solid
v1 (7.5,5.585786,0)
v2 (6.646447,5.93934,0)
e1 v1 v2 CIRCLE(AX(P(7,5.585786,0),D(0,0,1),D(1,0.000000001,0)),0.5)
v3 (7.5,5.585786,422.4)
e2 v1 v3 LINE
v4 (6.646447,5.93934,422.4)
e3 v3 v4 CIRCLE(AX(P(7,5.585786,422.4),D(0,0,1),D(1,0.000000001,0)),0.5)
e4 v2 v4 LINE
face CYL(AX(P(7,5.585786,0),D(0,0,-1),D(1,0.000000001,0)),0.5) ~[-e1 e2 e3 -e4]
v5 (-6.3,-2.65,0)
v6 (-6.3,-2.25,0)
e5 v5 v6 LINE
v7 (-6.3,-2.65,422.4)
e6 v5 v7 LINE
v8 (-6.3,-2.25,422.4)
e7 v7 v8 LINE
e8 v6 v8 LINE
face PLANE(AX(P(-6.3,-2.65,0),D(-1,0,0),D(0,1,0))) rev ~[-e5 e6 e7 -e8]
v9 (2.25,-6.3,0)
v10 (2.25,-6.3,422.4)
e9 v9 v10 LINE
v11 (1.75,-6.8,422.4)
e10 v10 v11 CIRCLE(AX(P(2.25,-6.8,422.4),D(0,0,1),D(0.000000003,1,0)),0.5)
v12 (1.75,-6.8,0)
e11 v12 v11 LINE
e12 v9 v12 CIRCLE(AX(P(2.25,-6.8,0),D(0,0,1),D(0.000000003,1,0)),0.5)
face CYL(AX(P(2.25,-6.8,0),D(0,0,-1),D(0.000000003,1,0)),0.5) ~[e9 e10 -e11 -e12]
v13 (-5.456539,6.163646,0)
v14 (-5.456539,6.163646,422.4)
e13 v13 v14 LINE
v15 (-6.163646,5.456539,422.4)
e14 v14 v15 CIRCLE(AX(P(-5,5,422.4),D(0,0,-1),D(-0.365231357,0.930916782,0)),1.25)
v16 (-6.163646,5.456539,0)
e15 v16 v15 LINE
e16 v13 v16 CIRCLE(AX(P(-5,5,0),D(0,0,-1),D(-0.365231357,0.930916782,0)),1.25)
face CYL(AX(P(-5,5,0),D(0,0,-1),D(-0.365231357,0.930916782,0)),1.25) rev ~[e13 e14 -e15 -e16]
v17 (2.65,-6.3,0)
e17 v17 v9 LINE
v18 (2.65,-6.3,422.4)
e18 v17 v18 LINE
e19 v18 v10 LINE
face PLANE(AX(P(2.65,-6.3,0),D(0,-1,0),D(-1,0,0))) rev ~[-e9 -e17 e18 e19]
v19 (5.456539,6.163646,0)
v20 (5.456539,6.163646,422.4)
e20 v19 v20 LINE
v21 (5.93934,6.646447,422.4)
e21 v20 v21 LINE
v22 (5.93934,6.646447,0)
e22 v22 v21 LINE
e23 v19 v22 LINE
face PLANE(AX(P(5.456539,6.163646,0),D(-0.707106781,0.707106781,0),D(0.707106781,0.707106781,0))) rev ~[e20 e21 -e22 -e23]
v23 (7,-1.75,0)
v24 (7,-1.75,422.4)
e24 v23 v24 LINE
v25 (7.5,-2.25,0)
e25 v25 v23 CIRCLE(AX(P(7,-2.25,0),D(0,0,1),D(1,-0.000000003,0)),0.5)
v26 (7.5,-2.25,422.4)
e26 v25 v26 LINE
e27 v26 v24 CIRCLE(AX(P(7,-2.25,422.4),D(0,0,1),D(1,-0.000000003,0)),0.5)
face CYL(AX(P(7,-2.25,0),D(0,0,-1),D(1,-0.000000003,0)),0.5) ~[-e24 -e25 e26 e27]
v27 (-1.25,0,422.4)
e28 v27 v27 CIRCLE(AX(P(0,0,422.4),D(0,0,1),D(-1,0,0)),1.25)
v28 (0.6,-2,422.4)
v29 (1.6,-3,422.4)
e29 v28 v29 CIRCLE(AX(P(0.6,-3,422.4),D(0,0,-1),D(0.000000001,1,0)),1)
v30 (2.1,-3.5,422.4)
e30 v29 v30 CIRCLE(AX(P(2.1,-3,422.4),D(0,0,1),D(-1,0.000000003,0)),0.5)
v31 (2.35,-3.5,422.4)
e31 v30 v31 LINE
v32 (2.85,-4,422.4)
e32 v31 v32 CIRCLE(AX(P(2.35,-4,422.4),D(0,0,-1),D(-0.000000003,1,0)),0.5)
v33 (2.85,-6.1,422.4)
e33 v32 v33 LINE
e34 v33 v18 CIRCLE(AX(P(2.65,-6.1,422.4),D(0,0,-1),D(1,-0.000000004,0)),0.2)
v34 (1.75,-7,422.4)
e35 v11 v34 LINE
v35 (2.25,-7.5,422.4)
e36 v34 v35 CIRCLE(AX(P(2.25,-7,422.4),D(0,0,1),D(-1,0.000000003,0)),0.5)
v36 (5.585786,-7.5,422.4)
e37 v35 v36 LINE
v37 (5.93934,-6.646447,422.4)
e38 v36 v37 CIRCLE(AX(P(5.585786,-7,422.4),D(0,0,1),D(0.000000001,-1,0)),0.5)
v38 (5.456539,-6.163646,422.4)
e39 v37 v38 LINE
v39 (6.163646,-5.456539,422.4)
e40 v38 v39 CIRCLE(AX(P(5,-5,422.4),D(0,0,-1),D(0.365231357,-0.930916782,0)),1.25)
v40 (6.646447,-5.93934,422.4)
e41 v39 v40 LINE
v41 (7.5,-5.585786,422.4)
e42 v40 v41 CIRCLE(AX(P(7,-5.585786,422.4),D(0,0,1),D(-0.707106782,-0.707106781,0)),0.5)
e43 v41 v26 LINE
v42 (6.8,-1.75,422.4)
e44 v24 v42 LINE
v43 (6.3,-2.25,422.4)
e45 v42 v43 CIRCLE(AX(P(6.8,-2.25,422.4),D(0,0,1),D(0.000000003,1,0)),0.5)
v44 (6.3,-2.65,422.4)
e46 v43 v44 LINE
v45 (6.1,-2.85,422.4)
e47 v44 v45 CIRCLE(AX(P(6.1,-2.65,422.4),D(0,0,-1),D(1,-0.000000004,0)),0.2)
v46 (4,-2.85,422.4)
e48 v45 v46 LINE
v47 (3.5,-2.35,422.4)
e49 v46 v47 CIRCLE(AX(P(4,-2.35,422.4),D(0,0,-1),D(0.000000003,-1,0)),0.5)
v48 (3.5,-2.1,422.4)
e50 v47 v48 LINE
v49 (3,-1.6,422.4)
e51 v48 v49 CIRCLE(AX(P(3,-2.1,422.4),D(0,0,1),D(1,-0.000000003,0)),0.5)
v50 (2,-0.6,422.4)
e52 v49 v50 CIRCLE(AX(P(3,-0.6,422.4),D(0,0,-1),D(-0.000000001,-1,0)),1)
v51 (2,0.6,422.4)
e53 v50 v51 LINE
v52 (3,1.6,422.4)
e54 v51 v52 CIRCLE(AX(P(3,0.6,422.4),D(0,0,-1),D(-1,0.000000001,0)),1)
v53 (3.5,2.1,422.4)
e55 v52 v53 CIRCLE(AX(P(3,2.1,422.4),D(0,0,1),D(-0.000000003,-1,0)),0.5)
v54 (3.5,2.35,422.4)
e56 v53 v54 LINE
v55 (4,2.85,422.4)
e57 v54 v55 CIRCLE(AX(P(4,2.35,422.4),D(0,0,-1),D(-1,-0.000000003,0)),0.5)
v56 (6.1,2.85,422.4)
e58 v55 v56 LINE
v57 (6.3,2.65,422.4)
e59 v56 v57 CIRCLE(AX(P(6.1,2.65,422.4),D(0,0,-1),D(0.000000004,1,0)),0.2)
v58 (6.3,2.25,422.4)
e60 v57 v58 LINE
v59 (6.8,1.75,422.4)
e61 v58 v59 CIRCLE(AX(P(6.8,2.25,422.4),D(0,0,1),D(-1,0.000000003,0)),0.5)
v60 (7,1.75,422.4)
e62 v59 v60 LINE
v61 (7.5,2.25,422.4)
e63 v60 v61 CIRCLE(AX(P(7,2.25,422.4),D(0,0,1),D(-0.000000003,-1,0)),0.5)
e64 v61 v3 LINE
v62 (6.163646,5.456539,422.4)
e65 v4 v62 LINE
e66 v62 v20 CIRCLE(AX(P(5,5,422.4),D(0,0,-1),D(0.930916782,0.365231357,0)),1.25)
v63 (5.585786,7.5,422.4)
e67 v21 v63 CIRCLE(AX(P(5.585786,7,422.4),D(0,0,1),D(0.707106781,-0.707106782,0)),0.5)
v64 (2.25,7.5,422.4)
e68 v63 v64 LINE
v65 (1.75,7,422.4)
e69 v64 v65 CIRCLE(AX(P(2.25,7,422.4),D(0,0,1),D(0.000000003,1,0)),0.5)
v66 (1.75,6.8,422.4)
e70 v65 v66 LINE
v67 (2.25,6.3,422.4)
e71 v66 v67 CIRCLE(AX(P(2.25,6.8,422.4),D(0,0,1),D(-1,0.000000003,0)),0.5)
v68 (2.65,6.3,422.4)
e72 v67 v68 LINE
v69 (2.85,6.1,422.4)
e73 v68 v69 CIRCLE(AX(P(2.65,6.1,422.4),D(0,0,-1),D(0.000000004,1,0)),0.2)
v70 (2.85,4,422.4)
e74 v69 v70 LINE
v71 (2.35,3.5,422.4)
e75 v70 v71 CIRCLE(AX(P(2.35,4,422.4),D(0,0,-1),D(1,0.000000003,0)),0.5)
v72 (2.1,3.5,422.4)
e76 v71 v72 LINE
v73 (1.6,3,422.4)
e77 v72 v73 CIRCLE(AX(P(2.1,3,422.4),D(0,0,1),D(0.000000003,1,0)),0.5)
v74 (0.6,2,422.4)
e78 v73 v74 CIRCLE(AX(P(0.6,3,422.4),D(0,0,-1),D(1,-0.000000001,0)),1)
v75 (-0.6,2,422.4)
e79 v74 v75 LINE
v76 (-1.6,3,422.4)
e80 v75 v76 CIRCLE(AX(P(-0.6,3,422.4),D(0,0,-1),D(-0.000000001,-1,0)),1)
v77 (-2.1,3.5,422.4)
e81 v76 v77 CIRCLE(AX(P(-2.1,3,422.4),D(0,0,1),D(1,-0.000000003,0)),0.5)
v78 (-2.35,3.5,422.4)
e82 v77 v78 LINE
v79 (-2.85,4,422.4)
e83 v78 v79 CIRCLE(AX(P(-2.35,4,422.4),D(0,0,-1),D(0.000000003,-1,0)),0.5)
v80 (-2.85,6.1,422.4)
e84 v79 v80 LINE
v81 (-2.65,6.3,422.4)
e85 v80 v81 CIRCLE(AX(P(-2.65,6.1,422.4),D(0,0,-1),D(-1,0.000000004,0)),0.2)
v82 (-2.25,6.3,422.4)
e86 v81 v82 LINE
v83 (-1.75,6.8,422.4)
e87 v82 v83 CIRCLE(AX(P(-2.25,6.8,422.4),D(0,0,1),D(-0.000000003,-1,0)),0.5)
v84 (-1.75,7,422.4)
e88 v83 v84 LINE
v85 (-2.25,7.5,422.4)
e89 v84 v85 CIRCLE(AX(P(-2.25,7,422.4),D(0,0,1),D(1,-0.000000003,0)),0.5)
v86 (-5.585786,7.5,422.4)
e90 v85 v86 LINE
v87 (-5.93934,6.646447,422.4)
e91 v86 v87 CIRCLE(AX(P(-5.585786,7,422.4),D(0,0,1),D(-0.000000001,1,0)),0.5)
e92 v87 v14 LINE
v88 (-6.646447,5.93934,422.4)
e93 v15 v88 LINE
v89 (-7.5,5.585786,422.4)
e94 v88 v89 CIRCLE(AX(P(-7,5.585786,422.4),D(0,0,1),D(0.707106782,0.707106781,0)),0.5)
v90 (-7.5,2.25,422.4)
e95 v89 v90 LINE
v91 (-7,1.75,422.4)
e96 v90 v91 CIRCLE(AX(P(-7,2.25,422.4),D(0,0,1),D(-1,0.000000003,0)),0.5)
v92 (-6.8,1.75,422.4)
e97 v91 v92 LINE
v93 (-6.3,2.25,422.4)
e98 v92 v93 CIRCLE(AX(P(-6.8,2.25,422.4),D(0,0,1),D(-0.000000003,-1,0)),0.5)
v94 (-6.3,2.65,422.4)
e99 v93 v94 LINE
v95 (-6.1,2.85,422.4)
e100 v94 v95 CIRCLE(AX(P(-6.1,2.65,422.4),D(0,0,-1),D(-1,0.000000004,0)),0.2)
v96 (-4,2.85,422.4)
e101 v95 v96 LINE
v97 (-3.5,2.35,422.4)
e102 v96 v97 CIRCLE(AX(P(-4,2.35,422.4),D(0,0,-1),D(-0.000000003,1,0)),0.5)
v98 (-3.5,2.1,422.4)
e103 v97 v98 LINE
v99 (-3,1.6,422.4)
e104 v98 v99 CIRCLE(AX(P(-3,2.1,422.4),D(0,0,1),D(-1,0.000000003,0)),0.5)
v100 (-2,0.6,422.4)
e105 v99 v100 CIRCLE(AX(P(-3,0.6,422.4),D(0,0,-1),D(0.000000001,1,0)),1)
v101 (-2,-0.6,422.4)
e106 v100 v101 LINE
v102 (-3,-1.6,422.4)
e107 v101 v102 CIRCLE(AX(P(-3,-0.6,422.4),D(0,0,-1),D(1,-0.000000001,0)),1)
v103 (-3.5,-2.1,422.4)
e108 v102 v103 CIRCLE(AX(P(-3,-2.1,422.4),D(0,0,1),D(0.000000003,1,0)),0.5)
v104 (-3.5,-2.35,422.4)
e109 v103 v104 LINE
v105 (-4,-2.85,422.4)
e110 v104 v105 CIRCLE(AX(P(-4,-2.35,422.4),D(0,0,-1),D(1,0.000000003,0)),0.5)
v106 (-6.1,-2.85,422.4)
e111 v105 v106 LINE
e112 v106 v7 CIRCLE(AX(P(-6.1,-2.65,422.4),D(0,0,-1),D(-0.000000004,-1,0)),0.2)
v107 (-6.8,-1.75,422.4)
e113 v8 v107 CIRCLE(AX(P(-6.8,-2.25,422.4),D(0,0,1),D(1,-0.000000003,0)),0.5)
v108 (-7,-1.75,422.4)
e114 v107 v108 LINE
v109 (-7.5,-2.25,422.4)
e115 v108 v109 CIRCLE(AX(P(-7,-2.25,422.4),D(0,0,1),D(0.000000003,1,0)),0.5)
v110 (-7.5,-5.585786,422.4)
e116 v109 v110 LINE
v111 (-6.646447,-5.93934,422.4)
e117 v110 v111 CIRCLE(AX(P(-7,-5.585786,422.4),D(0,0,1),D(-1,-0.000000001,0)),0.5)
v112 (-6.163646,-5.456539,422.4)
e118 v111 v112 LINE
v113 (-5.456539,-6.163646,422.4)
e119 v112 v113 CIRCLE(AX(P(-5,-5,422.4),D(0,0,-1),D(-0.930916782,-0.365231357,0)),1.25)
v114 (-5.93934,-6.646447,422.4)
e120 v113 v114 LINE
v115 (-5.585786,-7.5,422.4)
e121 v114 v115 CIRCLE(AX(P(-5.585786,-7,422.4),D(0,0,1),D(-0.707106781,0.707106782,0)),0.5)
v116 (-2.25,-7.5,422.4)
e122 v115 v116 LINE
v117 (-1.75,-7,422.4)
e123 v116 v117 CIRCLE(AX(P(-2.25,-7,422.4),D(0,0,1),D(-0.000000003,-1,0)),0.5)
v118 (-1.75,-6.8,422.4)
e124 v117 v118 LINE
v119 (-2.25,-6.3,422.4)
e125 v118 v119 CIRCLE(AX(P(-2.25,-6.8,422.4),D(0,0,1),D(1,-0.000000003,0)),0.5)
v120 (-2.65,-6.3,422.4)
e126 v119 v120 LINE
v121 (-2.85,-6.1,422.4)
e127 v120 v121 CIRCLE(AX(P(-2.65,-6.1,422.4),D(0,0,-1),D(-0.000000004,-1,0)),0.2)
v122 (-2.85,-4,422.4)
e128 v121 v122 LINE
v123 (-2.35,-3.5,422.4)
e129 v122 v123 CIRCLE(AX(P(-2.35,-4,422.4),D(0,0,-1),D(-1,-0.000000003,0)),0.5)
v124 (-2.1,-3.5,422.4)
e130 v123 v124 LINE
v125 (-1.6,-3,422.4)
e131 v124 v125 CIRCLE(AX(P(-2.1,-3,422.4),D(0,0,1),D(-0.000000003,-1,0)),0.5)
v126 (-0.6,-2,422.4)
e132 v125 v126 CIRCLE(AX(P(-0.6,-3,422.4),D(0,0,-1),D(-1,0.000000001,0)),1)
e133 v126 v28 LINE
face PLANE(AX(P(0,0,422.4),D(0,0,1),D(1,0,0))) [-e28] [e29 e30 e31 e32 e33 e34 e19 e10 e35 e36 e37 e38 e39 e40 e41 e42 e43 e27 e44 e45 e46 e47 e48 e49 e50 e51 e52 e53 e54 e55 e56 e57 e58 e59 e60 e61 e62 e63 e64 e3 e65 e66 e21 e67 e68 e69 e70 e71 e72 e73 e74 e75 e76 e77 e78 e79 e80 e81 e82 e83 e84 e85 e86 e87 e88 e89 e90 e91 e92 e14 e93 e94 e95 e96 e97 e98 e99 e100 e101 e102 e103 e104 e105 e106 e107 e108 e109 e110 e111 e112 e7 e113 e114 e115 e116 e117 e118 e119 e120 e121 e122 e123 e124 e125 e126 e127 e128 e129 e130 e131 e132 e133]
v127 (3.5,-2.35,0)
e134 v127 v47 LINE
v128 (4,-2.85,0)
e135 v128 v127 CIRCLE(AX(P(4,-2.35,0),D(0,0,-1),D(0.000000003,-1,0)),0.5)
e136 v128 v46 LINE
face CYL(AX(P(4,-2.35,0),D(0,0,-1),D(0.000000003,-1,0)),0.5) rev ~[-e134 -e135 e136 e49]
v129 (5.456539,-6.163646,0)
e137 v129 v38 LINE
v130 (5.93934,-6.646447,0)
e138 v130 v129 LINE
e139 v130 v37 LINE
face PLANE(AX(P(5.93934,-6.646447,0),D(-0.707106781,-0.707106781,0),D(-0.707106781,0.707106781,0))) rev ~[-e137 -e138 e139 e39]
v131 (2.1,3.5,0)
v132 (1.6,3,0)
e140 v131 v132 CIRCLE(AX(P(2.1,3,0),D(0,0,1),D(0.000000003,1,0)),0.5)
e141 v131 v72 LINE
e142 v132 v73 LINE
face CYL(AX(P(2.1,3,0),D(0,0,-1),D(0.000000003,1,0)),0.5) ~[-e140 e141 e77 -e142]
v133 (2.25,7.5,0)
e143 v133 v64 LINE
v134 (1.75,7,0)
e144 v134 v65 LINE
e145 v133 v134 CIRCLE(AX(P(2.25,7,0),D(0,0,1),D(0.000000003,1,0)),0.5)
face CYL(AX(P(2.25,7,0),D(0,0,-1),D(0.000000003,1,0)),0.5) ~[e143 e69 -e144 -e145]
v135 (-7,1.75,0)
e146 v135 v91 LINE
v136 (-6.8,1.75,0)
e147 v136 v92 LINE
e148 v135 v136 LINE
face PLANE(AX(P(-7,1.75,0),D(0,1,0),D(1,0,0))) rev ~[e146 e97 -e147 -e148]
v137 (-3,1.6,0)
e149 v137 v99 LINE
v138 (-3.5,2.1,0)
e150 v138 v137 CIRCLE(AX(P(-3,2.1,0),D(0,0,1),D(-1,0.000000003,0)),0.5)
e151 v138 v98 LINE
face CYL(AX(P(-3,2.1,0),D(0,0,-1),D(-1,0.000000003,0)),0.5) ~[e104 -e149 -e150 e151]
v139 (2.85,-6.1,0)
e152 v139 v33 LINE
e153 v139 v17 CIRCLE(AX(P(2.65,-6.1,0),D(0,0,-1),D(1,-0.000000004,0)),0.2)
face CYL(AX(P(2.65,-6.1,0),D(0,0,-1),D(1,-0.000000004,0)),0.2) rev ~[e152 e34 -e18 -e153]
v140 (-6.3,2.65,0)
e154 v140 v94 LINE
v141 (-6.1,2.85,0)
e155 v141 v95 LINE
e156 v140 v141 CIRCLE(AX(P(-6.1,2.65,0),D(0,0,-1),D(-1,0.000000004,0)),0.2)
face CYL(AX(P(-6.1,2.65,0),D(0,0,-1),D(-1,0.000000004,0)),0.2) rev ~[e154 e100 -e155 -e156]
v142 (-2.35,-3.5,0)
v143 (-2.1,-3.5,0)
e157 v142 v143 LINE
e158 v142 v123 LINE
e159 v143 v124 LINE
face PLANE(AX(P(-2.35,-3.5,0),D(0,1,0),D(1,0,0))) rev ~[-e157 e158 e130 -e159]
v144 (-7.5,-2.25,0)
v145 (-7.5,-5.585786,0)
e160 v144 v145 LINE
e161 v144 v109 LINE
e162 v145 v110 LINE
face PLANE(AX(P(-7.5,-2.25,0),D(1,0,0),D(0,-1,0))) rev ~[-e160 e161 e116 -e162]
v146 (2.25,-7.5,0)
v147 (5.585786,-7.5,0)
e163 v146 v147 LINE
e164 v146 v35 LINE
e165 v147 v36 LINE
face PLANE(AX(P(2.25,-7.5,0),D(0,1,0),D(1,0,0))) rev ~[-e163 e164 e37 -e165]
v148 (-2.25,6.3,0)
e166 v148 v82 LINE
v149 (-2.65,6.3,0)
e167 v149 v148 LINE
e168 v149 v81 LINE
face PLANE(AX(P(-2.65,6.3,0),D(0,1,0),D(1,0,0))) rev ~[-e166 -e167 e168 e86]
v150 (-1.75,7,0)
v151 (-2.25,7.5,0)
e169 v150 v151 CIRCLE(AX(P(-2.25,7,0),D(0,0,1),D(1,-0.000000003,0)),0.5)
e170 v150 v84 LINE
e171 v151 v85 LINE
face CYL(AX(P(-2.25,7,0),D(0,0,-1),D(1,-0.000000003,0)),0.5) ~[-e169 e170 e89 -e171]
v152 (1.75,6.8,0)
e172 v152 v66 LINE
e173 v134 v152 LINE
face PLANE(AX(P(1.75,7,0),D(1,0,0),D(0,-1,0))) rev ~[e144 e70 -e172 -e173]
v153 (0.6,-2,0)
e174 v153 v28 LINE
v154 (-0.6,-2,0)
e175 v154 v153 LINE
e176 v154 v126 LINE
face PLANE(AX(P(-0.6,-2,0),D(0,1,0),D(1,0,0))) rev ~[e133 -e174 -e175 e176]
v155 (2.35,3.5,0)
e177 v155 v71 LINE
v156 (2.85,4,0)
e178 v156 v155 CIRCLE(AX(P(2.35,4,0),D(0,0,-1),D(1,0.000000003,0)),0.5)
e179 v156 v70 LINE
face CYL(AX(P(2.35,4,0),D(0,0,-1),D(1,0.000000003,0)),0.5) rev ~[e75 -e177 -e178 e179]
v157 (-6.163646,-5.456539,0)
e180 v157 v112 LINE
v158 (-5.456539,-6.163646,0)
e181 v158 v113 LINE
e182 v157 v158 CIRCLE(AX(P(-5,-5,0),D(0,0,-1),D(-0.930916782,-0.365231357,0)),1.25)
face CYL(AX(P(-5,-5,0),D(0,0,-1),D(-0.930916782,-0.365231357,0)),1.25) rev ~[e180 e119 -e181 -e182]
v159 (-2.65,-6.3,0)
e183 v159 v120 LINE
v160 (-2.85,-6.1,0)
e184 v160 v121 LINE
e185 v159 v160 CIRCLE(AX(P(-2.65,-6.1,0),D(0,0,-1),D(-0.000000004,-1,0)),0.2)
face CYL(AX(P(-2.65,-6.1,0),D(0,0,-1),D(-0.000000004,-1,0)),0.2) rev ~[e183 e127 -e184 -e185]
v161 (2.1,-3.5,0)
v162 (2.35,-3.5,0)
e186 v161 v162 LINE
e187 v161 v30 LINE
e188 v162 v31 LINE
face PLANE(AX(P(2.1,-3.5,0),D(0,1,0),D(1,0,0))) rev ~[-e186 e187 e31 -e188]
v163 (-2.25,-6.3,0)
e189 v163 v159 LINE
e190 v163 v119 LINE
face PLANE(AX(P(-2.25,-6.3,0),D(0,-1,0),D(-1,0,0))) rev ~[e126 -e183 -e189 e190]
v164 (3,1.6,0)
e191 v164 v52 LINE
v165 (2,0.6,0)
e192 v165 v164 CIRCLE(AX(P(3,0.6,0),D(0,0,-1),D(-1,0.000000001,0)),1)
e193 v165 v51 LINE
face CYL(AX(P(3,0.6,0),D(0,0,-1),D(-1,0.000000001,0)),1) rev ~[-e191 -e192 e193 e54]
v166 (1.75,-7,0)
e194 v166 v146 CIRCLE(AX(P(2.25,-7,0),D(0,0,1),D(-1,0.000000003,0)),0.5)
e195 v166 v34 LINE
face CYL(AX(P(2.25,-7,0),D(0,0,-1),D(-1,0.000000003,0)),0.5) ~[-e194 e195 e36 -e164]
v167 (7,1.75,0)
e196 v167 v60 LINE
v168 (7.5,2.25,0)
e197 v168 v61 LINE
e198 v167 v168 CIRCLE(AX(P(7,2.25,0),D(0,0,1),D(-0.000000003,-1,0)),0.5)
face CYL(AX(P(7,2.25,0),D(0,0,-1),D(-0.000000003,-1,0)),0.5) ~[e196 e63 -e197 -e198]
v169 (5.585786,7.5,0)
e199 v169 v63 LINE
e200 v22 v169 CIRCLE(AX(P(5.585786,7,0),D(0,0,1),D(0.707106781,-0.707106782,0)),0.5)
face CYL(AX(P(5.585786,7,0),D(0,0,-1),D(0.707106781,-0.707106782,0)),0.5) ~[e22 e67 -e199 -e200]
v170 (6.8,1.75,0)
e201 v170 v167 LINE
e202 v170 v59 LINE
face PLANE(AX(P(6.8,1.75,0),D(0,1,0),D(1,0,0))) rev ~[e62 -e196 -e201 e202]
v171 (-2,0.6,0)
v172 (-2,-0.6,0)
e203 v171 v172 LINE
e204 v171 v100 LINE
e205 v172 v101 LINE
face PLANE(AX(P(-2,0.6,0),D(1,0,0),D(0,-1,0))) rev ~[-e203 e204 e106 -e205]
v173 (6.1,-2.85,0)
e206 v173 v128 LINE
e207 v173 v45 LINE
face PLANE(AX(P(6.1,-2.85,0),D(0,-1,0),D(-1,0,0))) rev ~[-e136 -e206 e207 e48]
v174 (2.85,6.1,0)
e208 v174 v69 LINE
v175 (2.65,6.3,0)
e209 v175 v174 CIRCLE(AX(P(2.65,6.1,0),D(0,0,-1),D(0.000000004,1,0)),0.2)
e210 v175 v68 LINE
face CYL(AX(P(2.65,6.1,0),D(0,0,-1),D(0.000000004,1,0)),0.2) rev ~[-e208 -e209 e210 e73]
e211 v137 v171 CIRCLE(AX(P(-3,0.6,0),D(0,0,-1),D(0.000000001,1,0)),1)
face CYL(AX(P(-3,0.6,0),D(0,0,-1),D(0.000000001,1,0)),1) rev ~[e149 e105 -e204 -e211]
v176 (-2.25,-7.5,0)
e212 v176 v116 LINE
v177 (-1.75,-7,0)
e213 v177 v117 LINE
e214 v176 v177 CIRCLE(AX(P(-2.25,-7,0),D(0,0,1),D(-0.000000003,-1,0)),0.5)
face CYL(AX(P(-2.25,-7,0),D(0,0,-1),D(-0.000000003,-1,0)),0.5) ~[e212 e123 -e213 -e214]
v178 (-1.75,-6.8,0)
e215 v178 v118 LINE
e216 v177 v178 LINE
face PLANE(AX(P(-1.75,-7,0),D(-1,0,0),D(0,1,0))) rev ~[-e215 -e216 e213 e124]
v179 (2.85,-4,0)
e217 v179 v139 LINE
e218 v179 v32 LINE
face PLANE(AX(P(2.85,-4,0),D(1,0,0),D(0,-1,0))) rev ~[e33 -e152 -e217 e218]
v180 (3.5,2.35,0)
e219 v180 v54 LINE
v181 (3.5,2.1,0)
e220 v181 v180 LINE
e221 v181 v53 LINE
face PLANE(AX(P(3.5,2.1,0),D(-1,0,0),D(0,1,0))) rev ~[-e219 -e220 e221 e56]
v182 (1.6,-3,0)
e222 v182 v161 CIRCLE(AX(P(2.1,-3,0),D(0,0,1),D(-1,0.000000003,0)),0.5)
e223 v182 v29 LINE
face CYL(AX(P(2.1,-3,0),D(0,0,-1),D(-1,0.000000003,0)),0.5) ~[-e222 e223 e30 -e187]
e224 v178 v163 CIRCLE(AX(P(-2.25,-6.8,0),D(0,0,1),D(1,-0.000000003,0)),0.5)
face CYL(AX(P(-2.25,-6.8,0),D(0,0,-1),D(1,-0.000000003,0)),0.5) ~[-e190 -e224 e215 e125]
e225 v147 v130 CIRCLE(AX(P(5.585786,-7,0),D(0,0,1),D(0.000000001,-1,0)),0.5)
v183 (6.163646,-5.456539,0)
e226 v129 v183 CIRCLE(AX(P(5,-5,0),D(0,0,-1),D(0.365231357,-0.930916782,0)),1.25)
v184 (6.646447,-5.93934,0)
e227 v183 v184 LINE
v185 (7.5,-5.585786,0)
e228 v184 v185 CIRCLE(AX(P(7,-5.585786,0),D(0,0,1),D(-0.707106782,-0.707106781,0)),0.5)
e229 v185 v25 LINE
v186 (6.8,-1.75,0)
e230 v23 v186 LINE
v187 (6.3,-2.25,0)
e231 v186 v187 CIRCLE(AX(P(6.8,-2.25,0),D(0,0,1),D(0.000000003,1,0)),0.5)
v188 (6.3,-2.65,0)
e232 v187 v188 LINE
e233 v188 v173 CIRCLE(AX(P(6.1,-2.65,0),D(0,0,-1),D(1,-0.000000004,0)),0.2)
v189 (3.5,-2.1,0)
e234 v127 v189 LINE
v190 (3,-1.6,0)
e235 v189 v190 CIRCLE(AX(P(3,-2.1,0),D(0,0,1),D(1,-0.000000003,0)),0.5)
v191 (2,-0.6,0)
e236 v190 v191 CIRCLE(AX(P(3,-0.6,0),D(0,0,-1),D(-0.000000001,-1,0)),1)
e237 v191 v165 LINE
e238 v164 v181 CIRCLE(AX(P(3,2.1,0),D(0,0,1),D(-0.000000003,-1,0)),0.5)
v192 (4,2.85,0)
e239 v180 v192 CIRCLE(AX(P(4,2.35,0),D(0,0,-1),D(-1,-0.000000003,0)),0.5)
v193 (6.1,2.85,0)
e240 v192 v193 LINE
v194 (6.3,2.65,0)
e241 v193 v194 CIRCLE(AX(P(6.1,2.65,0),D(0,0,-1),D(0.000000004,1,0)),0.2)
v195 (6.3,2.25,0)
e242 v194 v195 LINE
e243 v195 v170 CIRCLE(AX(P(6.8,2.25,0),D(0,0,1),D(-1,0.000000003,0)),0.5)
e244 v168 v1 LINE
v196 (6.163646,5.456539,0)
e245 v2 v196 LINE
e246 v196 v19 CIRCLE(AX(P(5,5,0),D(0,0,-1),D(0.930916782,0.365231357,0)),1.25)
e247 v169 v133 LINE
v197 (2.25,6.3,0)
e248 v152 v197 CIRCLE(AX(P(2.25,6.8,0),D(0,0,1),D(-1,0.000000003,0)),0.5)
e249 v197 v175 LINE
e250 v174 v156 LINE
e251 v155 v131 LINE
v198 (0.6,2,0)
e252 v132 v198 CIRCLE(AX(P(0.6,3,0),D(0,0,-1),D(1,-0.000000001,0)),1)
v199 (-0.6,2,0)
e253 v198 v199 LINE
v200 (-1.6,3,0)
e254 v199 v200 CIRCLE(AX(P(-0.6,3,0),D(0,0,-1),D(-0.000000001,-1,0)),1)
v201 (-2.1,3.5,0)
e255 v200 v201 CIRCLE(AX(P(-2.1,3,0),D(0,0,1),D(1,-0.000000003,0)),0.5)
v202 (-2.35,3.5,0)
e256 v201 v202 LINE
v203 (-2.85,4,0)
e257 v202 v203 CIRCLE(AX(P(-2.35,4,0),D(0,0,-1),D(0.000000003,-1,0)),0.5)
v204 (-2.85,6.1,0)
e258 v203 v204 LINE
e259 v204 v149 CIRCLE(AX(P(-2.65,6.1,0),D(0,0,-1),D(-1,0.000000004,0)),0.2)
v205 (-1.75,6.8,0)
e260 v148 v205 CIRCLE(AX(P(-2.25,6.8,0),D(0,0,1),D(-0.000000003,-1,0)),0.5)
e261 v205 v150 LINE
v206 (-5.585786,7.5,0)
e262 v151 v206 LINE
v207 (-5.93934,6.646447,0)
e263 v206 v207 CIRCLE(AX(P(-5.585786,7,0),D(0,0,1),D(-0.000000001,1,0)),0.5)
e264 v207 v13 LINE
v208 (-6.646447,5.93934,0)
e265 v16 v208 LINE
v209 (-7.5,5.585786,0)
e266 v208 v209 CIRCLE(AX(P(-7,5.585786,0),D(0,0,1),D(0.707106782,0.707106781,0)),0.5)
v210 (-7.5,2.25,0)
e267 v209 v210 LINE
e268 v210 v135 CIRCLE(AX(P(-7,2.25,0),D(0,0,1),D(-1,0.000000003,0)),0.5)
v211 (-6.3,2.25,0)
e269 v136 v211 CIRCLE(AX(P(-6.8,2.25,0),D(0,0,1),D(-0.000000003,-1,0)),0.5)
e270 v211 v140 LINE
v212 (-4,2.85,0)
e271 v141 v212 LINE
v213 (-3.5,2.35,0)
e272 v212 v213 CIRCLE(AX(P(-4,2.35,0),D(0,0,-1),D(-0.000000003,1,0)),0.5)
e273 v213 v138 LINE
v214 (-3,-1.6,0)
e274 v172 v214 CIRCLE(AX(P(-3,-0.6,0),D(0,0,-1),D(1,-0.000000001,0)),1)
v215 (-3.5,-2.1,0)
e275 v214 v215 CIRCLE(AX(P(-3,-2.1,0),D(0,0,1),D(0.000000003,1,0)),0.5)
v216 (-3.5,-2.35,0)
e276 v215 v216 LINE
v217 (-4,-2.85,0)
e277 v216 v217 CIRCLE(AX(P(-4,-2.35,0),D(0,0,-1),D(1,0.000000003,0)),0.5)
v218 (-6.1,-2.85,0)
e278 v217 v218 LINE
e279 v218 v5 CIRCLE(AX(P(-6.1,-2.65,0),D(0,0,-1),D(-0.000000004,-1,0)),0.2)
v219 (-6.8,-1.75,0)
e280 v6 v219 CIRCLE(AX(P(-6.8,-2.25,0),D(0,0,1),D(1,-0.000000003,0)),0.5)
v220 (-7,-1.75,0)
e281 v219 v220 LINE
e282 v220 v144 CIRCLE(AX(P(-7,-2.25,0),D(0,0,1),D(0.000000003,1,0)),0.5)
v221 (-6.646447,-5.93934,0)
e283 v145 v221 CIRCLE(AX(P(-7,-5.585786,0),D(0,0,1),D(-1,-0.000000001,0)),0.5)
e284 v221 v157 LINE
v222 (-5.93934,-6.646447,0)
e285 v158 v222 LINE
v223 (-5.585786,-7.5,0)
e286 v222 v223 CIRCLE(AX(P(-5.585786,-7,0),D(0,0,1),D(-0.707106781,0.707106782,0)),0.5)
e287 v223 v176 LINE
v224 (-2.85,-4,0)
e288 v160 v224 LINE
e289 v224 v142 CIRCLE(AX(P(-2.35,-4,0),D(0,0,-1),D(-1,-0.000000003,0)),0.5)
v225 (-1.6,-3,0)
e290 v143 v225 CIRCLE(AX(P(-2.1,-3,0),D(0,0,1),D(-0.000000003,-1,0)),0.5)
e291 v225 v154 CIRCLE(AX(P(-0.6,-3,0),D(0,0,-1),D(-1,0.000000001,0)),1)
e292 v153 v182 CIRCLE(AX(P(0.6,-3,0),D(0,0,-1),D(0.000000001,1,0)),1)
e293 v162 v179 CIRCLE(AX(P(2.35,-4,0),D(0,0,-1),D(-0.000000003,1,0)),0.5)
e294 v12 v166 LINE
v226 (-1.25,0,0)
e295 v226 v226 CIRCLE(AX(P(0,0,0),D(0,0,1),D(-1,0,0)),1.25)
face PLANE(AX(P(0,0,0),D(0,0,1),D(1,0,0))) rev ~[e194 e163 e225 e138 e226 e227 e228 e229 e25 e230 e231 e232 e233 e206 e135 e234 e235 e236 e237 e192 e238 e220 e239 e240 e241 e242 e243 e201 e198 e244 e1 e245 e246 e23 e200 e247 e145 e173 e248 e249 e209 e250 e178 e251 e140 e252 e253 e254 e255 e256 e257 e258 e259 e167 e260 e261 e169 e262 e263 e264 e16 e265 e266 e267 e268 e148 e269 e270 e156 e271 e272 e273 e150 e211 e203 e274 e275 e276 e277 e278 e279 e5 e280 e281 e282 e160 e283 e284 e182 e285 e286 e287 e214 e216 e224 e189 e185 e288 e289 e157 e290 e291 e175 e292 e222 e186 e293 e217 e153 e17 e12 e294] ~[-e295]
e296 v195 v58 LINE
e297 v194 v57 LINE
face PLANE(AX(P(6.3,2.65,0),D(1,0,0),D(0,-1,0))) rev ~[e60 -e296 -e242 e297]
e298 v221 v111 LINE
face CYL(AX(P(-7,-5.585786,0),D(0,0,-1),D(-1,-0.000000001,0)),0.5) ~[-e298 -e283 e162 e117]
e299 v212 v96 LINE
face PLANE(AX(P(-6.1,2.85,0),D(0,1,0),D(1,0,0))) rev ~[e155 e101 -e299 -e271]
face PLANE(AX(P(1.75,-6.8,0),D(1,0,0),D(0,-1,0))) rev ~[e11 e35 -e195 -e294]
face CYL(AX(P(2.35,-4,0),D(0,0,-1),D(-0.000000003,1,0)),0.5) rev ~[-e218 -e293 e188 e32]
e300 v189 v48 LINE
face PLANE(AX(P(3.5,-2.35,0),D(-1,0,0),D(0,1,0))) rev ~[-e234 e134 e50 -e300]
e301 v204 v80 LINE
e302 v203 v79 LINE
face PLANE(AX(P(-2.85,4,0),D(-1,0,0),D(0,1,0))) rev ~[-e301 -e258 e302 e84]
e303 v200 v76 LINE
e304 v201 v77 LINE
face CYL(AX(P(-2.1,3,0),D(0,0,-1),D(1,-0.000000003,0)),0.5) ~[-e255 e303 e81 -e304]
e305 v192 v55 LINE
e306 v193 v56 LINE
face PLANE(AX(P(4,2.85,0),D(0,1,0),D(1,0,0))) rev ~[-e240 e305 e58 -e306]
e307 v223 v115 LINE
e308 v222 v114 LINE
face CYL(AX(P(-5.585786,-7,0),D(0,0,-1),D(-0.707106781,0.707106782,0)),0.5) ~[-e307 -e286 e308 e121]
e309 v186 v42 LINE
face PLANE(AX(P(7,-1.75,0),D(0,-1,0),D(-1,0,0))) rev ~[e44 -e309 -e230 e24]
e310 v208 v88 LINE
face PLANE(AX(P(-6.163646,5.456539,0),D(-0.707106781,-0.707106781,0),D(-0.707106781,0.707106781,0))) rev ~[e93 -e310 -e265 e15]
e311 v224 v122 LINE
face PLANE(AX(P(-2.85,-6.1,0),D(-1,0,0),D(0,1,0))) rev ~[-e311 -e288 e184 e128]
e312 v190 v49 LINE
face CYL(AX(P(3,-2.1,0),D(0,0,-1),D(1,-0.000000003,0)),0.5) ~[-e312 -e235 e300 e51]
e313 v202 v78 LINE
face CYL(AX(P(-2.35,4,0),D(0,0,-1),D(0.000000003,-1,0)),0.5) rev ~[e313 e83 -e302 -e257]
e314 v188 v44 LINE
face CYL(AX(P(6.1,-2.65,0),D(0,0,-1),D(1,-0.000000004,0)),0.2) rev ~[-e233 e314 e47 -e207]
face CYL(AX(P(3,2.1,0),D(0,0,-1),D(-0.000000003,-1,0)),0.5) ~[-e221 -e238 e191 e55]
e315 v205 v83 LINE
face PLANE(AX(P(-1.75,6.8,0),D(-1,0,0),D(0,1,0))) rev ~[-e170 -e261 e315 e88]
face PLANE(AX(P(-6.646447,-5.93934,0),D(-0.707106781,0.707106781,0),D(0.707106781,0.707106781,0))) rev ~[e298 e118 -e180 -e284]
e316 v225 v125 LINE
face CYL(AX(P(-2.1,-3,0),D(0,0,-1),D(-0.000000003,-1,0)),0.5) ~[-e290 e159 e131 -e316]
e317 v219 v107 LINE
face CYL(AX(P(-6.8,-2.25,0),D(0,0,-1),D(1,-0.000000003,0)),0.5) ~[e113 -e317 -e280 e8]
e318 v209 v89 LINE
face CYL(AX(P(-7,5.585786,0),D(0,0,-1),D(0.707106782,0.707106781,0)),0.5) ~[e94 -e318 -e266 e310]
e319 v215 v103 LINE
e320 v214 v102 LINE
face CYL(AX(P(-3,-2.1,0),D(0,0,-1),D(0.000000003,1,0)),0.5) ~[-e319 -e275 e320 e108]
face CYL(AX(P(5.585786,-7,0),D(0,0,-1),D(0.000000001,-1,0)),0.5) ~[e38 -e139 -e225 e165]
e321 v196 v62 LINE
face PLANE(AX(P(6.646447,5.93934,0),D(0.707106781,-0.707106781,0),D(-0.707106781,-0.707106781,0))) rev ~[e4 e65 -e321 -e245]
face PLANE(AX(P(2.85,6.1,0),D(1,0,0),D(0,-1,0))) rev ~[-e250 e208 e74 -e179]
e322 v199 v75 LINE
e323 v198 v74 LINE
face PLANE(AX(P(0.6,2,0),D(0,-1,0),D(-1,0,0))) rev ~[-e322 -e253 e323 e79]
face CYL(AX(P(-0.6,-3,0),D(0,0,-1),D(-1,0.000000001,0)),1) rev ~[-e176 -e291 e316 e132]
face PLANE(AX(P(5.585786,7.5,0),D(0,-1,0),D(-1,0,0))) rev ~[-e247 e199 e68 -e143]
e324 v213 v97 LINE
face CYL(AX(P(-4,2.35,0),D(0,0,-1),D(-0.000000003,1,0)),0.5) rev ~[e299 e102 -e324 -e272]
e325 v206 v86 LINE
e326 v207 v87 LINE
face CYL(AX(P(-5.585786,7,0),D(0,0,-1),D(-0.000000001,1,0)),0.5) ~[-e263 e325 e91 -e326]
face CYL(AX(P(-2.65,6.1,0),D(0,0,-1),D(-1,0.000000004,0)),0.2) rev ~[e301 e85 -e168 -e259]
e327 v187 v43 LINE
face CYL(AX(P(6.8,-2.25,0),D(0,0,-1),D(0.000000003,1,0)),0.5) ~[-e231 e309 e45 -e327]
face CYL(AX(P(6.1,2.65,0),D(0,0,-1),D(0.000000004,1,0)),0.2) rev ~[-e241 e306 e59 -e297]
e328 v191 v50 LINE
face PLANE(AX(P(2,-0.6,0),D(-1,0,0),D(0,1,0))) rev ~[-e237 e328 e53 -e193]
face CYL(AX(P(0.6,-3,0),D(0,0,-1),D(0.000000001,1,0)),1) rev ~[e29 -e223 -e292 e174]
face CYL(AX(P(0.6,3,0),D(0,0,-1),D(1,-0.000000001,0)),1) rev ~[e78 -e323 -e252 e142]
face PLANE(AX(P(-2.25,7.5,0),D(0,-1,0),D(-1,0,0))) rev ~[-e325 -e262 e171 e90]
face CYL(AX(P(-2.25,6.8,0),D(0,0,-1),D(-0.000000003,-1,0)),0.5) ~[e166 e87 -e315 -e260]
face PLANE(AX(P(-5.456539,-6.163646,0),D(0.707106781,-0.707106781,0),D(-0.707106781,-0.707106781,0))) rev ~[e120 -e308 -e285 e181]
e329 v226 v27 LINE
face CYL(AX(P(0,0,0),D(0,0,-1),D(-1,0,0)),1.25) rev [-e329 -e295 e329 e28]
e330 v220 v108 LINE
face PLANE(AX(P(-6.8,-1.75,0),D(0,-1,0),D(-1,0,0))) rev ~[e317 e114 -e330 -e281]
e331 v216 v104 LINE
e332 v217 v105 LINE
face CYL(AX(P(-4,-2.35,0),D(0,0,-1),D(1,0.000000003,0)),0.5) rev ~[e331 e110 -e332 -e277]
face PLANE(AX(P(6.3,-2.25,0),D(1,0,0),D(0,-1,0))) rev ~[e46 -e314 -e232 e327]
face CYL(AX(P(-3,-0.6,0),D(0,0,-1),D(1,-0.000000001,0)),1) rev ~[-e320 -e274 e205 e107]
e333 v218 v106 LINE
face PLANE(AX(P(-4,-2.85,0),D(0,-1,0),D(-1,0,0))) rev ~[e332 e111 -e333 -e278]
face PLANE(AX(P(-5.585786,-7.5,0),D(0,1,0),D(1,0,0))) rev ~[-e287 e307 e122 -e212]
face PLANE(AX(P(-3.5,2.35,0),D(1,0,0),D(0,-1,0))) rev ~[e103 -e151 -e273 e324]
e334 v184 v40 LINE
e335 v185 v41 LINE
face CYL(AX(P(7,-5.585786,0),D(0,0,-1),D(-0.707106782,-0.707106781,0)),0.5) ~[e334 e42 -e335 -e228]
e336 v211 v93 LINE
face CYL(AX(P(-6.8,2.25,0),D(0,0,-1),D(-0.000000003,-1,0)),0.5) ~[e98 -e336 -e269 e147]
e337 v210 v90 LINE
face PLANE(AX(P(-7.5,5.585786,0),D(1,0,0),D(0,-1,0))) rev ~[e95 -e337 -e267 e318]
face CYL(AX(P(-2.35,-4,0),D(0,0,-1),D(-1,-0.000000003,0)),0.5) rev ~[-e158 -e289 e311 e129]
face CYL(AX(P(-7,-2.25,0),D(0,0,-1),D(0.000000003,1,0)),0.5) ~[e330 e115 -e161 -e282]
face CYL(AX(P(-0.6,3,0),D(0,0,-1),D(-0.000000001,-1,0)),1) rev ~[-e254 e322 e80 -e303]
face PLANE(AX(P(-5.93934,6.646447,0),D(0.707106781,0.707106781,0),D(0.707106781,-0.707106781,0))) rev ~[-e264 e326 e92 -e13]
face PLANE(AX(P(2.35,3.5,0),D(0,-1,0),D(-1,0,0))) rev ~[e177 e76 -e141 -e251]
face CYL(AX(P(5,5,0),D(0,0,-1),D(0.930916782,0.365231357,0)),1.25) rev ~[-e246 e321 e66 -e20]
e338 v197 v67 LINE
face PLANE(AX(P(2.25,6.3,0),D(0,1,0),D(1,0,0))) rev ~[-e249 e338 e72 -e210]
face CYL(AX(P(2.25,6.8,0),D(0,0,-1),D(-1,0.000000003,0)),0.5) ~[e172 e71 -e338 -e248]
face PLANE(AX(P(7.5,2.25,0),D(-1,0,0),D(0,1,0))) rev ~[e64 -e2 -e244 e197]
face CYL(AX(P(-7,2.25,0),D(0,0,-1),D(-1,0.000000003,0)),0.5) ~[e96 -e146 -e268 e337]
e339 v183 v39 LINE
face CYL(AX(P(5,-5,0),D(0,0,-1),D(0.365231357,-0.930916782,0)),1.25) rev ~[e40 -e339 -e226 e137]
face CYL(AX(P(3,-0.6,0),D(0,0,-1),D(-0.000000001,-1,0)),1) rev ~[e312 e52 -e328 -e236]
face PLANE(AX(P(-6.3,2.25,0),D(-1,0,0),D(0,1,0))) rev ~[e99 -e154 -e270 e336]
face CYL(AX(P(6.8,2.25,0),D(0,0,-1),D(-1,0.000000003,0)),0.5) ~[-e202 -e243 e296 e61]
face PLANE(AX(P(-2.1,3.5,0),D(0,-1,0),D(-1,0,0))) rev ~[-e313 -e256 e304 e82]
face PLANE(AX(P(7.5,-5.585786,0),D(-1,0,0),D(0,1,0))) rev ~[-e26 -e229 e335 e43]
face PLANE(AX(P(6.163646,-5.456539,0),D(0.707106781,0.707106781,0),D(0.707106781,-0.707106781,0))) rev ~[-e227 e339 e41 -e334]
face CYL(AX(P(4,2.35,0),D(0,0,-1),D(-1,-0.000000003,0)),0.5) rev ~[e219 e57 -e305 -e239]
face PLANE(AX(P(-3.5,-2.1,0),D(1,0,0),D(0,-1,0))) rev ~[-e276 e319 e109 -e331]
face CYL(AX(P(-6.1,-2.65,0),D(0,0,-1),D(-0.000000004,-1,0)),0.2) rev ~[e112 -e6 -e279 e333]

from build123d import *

# Parameters (mm, degrees)
SKETCH1_R           = 1.25
BOSS_EXTRUDE1_DEPTH = 422.400000004


with BuildPart() as part:
    # Sketch1 → Boss-Extrude1 (new body)
    with BuildSketch(Plane.XY):
        with BuildLine():
            Line((6.646446609, 5.939339828), (6.163645978, 5.456539197))
            ThreePointArc((6.163645978, 5.456539197), (4.116116524, 4.116116524), (5.456539197, 6.163645978))
            Line((5.456539197, 6.163645978), (5.939339828, 6.646446609))
            ThreePointArc((5.939339828, 6.646446609), (6.047726204, 7.191341716), (5.585786438, 7.5))
            Line((5.585786438, 7.5), (2.25, 7.5))
            ThreePointArc((2.25, 7.5), (1.896446609, 7.353553391), (1.75, 7))
            Line((1.75, 7), (1.75, 6.8))
            ThreePointArc((1.75, 6.8), (1.896446609, 6.446446609), (2.25, 6.3))
            Line((2.25, 6.3), (2.65, 6.3))
            ThreePointArc((2.65, 6.3), (2.791421356, 6.241421356), (2.85, 6.1))
            Line((2.85, 6.1), (2.85, 4))
            ThreePointArc((2.85, 4), (2.703553391, 3.646446609), (2.35, 3.5))
            Line((2.35, 3.5), (2.1, 3.5))
            ThreePointArc((2.1, 3.5), (1.746446609, 3.353553391), (1.6, 3))
            ThreePointArc((1.6, 3), (1.307106781, 2.292893219), (0.6, 2))
            Line((0.6, 2), (-0.6, 2))
            ThreePointArc((-0.6, 2), (-1.307106781, 2.292893219), (-1.6, 3))
            ThreePointArc((-1.6, 3), (-1.746446609, 3.353553391), (-2.1, 3.5))
            Line((-2.1, 3.5), (-2.35, 3.5))
            ThreePointArc((-2.35, 3.5), (-2.703553391, 3.646446609), (-2.85, 4))
            Line((-2.85, 4), (-2.85, 6.1))
            ThreePointArc((-2.85, 6.1), (-2.791421356, 6.241421356), (-2.65, 6.3))
            Line((-2.65, 6.3), (-2.25, 6.3))
            ThreePointArc((-2.25, 6.3), (-1.896446609, 6.446446609), (-1.75, 6.8))
            Line((-1.75, 6.8), (-1.75, 7))
            ThreePointArc((-1.75, 7), (-1.896446609, 7.353553391), (-2.25, 7.5))
            Line((-2.25, 7.5), (-5.585786438, 7.5))
            ThreePointArc((-5.585786438, 7.5), (-6.047726204, 7.191341716), (-5.939339828, 6.646446609))
            Line((-5.939339828, 6.646446609), (-5.456539197, 6.163645978))
            ThreePointArc((-5.456539197, 6.163645978), (-4.116116524, 4.116116524), (-6.163645978, 5.456539197))
            Line((-6.163645978, 5.456539197), (-6.646446609, 5.939339828))
            ThreePointArc((-6.646446609, 5.939339828), (-7.191341716, 6.047726204), (-7.5, 5.585786438))
            Line((-7.5, 5.585786438), (-7.5, 2.25))
            ThreePointArc((-7.5, 2.25), (-7.353553391, 1.896446609), (-7, 1.75))
            Line((-7, 1.75), (-6.8, 1.75))
            ThreePointArc((-6.8, 1.75), (-6.446446609, 1.896446609), (-6.3, 2.25))
            Line((-6.3, 2.25), (-6.3, 2.65))
            ThreePointArc((-6.3, 2.65), (-6.241421356, 2.791421356), (-6.1, 2.85))
            Line((-6.1, 2.85), (-4, 2.85))
            ThreePointArc((-4, 2.85), (-3.646446609, 2.703553391), (-3.5, 2.35))
            Line((-3.5, 2.35), (-3.5, 2.1))
            ThreePointArc((-3.5, 2.1), (-3.353553391, 1.746446609), (-3, 1.6))
            ThreePointArc((-3, 1.6), (-2.292893219, 1.307106781), (-2, 0.6))
            Line((-2, 0.6), (-2, -0.6))
            ThreePointArc((-2, -0.6), (-2.292893219, -1.307106781), (-3, -1.6))
            ThreePointArc((-3, -1.6), (-3.353553391, -1.746446609), (-3.5, -2.1))
            Line((-3.5, -2.1), (-3.5, -2.35))
            ThreePointArc((-3.5, -2.35), (-3.646446609, -2.703553391), (-4, -2.85))
            Line((-4, -2.85), (-6.1, -2.85))
            ThreePointArc((-6.1, -2.85), (-6.241421356, -2.791421356), (-6.3, -2.65))
            Line((-6.3, -2.65), (-6.3, -2.25))
            ThreePointArc((-6.3, -2.25), (-6.446446609, -1.896446609), (-6.8, -1.75))
            Line((-6.8, -1.75), (-7, -1.75))
            ThreePointArc((-7, -1.75), (-7.353553391, -1.896446609), (-7.5, -2.25))
            Line((-7.5, -2.25), (-7.5, -5.585786438))
            ThreePointArc((-7.5, -5.585786438), (-7.191341716, -6.047726204), (-6.646446609, -5.939339828))
            Line((-6.646446609, -5.939339828), (-6.163645978, -5.456539197))
            ThreePointArc((-6.163645978, -5.456539197), (-4.116116524, -4.116116524), (-5.456539197, -6.163645978))
            Line((-5.456539197, -6.163645978), (-5.939339828, -6.646446609))
            ThreePointArc((-5.939339828, -6.646446609), (-6.047726204, -7.191341716), (-5.585786438, -7.5))
            Line((-5.585786438, -7.5), (-2.25, -7.5))
            ThreePointArc((-2.25, -7.5), (-1.896446609, -7.353553391), (-1.75, -7))
            Line((-1.75, -7), (-1.75, -6.8))
            ThreePointArc((-1.75, -6.8), (-1.896446609, -6.446446609), (-2.25, -6.3))
            Line((-2.25, -6.3), (-2.65, -6.3))
            ThreePointArc((-2.65, -6.3), (-2.791421356, -6.241421356), (-2.85, -6.1))
            Line((-2.85, -6.1), (-2.85, -4))
            ThreePointArc((-2.85, -4), (-2.703553391, -3.646446609), (-2.35, -3.5))
            Line((-2.35, -3.5), (-2.1, -3.5))
            ThreePointArc((-2.1, -3.5), (-1.746446609, -3.353553391), (-1.6, -3))
            ThreePointArc((-1.6, -3), (-1.307106781, -2.292893219), (-0.6, -2))
            Line((-0.6, -2), (0.6, -2))
            ThreePointArc((0.6, -2), (1.307106781, -2.292893219), (1.6, -3))
            ThreePointArc((1.6, -3), (1.746446609, -3.353553391), (2.1, -3.5))
            Line((2.1, -3.5), (2.35, -3.5))
            ThreePointArc((2.35, -3.5), (2.703553391, -3.646446609), (2.85, -4))
            Line((2.85, -4), (2.85, -6.1))
            ThreePointArc((2.85, -6.1), (2.791421356, -6.241421356), (2.65, -6.3))
            Line((2.65, -6.3), (2.25, -6.3))
            ThreePointArc((2.25, -6.3), (1.896446609, -6.446446609), (1.75, -6.8))
            Line((1.75, -6.8), (1.75, -7))
            ThreePointArc((1.75, -7), (1.896446609, -7.353553391), (2.25, -7.5))
            Line((2.25, -7.5), (5.585786438, -7.5))
            ThreePointArc((5.585786438, -7.5), (6.047726204, -7.191341716), (5.939339828, -6.646446609))
            Line((5.939339828, -6.646446609), (5.456539197, -6.163645978))
            ThreePointArc((5.456539197, -6.163645978), (4.116116524, -4.116116524), (6.163645978, -5.456539197))
            Line((6.163645978, -5.456539197), (6.646446609, -5.939339828))
            ThreePointArc((6.646446609, -5.939339828), (7.191341716, -6.047726204), (7.5, -5.585786438))
            Line((7.5, -5.585786438), (7.5, -2.25))
            ThreePointArc((7.5, -2.25), (7.353553391, -1.896446609), (7, -1.75))
            Line((7, -1.75), (6.8, -1.75))
            ThreePointArc((6.8, -1.75), (6.446446609, -1.896446609), (6.3, -2.25))
            Line((6.3, -2.25), (6.3, -2.65))
            ThreePointArc((6.3, -2.65), (6.241421356, -2.791421356), (6.1, -2.85))
            Line((6.1, -2.85), (4, -2.85))
            ThreePointArc((4, -2.85), (3.646446609, -2.703553391), (3.5, -2.35))
            Line((3.5, -2.35), (3.5, -2.1))
            ThreePointArc((3.5, -2.1), (3.353553391, -1.746446609), (3, -1.6))
            ThreePointArc((3, -1.6), (2.292893219, -1.307106781), (2, -0.6))
            Line((2, -0.6), (2, 0.6))
            ThreePointArc((2, 0.6), (2.292893219, 1.307106781), (3, 1.6))
            ThreePointArc((3, 1.6), (3.353553391, 1.746446609), (3.5, 2.1))
            Line((3.5, 2.1), (3.5, 2.35))
            ThreePointArc((3.5, 2.35), (3.646446609, 2.703553391), (4, 2.85))
            Line((4, 2.85), (6.1, 2.85))
            ThreePointArc((6.1, 2.85), (6.241421356, 2.791421356), (6.3, 2.65))
            Line((6.3, 2.65), (6.3, 2.25))
            ThreePointArc((6.3, 2.25), (6.446446609, 1.896446609), (6.8, 1.75))
            Line((6.8, 1.75), (7, 1.75))
            ThreePointArc((7, 1.75), (7.353553391, 1.896446609), (7.5, 2.25))
            Line((7.5, 2.25), (7.5, 5.585786438))
            ThreePointArc((7.5, 5.585786438), (7.191341716, 6.047726204), (6.646446609, 5.939339828))
        make_face()
        with Locations(Location((0, 0, 0), (0, 0, 180))):
            Circle(SKETCH1_R, mode=Mode.SUBTRACT)
    extrude(amount=BOSS_EXTRUDE1_DEPTH)


solid = part.part
